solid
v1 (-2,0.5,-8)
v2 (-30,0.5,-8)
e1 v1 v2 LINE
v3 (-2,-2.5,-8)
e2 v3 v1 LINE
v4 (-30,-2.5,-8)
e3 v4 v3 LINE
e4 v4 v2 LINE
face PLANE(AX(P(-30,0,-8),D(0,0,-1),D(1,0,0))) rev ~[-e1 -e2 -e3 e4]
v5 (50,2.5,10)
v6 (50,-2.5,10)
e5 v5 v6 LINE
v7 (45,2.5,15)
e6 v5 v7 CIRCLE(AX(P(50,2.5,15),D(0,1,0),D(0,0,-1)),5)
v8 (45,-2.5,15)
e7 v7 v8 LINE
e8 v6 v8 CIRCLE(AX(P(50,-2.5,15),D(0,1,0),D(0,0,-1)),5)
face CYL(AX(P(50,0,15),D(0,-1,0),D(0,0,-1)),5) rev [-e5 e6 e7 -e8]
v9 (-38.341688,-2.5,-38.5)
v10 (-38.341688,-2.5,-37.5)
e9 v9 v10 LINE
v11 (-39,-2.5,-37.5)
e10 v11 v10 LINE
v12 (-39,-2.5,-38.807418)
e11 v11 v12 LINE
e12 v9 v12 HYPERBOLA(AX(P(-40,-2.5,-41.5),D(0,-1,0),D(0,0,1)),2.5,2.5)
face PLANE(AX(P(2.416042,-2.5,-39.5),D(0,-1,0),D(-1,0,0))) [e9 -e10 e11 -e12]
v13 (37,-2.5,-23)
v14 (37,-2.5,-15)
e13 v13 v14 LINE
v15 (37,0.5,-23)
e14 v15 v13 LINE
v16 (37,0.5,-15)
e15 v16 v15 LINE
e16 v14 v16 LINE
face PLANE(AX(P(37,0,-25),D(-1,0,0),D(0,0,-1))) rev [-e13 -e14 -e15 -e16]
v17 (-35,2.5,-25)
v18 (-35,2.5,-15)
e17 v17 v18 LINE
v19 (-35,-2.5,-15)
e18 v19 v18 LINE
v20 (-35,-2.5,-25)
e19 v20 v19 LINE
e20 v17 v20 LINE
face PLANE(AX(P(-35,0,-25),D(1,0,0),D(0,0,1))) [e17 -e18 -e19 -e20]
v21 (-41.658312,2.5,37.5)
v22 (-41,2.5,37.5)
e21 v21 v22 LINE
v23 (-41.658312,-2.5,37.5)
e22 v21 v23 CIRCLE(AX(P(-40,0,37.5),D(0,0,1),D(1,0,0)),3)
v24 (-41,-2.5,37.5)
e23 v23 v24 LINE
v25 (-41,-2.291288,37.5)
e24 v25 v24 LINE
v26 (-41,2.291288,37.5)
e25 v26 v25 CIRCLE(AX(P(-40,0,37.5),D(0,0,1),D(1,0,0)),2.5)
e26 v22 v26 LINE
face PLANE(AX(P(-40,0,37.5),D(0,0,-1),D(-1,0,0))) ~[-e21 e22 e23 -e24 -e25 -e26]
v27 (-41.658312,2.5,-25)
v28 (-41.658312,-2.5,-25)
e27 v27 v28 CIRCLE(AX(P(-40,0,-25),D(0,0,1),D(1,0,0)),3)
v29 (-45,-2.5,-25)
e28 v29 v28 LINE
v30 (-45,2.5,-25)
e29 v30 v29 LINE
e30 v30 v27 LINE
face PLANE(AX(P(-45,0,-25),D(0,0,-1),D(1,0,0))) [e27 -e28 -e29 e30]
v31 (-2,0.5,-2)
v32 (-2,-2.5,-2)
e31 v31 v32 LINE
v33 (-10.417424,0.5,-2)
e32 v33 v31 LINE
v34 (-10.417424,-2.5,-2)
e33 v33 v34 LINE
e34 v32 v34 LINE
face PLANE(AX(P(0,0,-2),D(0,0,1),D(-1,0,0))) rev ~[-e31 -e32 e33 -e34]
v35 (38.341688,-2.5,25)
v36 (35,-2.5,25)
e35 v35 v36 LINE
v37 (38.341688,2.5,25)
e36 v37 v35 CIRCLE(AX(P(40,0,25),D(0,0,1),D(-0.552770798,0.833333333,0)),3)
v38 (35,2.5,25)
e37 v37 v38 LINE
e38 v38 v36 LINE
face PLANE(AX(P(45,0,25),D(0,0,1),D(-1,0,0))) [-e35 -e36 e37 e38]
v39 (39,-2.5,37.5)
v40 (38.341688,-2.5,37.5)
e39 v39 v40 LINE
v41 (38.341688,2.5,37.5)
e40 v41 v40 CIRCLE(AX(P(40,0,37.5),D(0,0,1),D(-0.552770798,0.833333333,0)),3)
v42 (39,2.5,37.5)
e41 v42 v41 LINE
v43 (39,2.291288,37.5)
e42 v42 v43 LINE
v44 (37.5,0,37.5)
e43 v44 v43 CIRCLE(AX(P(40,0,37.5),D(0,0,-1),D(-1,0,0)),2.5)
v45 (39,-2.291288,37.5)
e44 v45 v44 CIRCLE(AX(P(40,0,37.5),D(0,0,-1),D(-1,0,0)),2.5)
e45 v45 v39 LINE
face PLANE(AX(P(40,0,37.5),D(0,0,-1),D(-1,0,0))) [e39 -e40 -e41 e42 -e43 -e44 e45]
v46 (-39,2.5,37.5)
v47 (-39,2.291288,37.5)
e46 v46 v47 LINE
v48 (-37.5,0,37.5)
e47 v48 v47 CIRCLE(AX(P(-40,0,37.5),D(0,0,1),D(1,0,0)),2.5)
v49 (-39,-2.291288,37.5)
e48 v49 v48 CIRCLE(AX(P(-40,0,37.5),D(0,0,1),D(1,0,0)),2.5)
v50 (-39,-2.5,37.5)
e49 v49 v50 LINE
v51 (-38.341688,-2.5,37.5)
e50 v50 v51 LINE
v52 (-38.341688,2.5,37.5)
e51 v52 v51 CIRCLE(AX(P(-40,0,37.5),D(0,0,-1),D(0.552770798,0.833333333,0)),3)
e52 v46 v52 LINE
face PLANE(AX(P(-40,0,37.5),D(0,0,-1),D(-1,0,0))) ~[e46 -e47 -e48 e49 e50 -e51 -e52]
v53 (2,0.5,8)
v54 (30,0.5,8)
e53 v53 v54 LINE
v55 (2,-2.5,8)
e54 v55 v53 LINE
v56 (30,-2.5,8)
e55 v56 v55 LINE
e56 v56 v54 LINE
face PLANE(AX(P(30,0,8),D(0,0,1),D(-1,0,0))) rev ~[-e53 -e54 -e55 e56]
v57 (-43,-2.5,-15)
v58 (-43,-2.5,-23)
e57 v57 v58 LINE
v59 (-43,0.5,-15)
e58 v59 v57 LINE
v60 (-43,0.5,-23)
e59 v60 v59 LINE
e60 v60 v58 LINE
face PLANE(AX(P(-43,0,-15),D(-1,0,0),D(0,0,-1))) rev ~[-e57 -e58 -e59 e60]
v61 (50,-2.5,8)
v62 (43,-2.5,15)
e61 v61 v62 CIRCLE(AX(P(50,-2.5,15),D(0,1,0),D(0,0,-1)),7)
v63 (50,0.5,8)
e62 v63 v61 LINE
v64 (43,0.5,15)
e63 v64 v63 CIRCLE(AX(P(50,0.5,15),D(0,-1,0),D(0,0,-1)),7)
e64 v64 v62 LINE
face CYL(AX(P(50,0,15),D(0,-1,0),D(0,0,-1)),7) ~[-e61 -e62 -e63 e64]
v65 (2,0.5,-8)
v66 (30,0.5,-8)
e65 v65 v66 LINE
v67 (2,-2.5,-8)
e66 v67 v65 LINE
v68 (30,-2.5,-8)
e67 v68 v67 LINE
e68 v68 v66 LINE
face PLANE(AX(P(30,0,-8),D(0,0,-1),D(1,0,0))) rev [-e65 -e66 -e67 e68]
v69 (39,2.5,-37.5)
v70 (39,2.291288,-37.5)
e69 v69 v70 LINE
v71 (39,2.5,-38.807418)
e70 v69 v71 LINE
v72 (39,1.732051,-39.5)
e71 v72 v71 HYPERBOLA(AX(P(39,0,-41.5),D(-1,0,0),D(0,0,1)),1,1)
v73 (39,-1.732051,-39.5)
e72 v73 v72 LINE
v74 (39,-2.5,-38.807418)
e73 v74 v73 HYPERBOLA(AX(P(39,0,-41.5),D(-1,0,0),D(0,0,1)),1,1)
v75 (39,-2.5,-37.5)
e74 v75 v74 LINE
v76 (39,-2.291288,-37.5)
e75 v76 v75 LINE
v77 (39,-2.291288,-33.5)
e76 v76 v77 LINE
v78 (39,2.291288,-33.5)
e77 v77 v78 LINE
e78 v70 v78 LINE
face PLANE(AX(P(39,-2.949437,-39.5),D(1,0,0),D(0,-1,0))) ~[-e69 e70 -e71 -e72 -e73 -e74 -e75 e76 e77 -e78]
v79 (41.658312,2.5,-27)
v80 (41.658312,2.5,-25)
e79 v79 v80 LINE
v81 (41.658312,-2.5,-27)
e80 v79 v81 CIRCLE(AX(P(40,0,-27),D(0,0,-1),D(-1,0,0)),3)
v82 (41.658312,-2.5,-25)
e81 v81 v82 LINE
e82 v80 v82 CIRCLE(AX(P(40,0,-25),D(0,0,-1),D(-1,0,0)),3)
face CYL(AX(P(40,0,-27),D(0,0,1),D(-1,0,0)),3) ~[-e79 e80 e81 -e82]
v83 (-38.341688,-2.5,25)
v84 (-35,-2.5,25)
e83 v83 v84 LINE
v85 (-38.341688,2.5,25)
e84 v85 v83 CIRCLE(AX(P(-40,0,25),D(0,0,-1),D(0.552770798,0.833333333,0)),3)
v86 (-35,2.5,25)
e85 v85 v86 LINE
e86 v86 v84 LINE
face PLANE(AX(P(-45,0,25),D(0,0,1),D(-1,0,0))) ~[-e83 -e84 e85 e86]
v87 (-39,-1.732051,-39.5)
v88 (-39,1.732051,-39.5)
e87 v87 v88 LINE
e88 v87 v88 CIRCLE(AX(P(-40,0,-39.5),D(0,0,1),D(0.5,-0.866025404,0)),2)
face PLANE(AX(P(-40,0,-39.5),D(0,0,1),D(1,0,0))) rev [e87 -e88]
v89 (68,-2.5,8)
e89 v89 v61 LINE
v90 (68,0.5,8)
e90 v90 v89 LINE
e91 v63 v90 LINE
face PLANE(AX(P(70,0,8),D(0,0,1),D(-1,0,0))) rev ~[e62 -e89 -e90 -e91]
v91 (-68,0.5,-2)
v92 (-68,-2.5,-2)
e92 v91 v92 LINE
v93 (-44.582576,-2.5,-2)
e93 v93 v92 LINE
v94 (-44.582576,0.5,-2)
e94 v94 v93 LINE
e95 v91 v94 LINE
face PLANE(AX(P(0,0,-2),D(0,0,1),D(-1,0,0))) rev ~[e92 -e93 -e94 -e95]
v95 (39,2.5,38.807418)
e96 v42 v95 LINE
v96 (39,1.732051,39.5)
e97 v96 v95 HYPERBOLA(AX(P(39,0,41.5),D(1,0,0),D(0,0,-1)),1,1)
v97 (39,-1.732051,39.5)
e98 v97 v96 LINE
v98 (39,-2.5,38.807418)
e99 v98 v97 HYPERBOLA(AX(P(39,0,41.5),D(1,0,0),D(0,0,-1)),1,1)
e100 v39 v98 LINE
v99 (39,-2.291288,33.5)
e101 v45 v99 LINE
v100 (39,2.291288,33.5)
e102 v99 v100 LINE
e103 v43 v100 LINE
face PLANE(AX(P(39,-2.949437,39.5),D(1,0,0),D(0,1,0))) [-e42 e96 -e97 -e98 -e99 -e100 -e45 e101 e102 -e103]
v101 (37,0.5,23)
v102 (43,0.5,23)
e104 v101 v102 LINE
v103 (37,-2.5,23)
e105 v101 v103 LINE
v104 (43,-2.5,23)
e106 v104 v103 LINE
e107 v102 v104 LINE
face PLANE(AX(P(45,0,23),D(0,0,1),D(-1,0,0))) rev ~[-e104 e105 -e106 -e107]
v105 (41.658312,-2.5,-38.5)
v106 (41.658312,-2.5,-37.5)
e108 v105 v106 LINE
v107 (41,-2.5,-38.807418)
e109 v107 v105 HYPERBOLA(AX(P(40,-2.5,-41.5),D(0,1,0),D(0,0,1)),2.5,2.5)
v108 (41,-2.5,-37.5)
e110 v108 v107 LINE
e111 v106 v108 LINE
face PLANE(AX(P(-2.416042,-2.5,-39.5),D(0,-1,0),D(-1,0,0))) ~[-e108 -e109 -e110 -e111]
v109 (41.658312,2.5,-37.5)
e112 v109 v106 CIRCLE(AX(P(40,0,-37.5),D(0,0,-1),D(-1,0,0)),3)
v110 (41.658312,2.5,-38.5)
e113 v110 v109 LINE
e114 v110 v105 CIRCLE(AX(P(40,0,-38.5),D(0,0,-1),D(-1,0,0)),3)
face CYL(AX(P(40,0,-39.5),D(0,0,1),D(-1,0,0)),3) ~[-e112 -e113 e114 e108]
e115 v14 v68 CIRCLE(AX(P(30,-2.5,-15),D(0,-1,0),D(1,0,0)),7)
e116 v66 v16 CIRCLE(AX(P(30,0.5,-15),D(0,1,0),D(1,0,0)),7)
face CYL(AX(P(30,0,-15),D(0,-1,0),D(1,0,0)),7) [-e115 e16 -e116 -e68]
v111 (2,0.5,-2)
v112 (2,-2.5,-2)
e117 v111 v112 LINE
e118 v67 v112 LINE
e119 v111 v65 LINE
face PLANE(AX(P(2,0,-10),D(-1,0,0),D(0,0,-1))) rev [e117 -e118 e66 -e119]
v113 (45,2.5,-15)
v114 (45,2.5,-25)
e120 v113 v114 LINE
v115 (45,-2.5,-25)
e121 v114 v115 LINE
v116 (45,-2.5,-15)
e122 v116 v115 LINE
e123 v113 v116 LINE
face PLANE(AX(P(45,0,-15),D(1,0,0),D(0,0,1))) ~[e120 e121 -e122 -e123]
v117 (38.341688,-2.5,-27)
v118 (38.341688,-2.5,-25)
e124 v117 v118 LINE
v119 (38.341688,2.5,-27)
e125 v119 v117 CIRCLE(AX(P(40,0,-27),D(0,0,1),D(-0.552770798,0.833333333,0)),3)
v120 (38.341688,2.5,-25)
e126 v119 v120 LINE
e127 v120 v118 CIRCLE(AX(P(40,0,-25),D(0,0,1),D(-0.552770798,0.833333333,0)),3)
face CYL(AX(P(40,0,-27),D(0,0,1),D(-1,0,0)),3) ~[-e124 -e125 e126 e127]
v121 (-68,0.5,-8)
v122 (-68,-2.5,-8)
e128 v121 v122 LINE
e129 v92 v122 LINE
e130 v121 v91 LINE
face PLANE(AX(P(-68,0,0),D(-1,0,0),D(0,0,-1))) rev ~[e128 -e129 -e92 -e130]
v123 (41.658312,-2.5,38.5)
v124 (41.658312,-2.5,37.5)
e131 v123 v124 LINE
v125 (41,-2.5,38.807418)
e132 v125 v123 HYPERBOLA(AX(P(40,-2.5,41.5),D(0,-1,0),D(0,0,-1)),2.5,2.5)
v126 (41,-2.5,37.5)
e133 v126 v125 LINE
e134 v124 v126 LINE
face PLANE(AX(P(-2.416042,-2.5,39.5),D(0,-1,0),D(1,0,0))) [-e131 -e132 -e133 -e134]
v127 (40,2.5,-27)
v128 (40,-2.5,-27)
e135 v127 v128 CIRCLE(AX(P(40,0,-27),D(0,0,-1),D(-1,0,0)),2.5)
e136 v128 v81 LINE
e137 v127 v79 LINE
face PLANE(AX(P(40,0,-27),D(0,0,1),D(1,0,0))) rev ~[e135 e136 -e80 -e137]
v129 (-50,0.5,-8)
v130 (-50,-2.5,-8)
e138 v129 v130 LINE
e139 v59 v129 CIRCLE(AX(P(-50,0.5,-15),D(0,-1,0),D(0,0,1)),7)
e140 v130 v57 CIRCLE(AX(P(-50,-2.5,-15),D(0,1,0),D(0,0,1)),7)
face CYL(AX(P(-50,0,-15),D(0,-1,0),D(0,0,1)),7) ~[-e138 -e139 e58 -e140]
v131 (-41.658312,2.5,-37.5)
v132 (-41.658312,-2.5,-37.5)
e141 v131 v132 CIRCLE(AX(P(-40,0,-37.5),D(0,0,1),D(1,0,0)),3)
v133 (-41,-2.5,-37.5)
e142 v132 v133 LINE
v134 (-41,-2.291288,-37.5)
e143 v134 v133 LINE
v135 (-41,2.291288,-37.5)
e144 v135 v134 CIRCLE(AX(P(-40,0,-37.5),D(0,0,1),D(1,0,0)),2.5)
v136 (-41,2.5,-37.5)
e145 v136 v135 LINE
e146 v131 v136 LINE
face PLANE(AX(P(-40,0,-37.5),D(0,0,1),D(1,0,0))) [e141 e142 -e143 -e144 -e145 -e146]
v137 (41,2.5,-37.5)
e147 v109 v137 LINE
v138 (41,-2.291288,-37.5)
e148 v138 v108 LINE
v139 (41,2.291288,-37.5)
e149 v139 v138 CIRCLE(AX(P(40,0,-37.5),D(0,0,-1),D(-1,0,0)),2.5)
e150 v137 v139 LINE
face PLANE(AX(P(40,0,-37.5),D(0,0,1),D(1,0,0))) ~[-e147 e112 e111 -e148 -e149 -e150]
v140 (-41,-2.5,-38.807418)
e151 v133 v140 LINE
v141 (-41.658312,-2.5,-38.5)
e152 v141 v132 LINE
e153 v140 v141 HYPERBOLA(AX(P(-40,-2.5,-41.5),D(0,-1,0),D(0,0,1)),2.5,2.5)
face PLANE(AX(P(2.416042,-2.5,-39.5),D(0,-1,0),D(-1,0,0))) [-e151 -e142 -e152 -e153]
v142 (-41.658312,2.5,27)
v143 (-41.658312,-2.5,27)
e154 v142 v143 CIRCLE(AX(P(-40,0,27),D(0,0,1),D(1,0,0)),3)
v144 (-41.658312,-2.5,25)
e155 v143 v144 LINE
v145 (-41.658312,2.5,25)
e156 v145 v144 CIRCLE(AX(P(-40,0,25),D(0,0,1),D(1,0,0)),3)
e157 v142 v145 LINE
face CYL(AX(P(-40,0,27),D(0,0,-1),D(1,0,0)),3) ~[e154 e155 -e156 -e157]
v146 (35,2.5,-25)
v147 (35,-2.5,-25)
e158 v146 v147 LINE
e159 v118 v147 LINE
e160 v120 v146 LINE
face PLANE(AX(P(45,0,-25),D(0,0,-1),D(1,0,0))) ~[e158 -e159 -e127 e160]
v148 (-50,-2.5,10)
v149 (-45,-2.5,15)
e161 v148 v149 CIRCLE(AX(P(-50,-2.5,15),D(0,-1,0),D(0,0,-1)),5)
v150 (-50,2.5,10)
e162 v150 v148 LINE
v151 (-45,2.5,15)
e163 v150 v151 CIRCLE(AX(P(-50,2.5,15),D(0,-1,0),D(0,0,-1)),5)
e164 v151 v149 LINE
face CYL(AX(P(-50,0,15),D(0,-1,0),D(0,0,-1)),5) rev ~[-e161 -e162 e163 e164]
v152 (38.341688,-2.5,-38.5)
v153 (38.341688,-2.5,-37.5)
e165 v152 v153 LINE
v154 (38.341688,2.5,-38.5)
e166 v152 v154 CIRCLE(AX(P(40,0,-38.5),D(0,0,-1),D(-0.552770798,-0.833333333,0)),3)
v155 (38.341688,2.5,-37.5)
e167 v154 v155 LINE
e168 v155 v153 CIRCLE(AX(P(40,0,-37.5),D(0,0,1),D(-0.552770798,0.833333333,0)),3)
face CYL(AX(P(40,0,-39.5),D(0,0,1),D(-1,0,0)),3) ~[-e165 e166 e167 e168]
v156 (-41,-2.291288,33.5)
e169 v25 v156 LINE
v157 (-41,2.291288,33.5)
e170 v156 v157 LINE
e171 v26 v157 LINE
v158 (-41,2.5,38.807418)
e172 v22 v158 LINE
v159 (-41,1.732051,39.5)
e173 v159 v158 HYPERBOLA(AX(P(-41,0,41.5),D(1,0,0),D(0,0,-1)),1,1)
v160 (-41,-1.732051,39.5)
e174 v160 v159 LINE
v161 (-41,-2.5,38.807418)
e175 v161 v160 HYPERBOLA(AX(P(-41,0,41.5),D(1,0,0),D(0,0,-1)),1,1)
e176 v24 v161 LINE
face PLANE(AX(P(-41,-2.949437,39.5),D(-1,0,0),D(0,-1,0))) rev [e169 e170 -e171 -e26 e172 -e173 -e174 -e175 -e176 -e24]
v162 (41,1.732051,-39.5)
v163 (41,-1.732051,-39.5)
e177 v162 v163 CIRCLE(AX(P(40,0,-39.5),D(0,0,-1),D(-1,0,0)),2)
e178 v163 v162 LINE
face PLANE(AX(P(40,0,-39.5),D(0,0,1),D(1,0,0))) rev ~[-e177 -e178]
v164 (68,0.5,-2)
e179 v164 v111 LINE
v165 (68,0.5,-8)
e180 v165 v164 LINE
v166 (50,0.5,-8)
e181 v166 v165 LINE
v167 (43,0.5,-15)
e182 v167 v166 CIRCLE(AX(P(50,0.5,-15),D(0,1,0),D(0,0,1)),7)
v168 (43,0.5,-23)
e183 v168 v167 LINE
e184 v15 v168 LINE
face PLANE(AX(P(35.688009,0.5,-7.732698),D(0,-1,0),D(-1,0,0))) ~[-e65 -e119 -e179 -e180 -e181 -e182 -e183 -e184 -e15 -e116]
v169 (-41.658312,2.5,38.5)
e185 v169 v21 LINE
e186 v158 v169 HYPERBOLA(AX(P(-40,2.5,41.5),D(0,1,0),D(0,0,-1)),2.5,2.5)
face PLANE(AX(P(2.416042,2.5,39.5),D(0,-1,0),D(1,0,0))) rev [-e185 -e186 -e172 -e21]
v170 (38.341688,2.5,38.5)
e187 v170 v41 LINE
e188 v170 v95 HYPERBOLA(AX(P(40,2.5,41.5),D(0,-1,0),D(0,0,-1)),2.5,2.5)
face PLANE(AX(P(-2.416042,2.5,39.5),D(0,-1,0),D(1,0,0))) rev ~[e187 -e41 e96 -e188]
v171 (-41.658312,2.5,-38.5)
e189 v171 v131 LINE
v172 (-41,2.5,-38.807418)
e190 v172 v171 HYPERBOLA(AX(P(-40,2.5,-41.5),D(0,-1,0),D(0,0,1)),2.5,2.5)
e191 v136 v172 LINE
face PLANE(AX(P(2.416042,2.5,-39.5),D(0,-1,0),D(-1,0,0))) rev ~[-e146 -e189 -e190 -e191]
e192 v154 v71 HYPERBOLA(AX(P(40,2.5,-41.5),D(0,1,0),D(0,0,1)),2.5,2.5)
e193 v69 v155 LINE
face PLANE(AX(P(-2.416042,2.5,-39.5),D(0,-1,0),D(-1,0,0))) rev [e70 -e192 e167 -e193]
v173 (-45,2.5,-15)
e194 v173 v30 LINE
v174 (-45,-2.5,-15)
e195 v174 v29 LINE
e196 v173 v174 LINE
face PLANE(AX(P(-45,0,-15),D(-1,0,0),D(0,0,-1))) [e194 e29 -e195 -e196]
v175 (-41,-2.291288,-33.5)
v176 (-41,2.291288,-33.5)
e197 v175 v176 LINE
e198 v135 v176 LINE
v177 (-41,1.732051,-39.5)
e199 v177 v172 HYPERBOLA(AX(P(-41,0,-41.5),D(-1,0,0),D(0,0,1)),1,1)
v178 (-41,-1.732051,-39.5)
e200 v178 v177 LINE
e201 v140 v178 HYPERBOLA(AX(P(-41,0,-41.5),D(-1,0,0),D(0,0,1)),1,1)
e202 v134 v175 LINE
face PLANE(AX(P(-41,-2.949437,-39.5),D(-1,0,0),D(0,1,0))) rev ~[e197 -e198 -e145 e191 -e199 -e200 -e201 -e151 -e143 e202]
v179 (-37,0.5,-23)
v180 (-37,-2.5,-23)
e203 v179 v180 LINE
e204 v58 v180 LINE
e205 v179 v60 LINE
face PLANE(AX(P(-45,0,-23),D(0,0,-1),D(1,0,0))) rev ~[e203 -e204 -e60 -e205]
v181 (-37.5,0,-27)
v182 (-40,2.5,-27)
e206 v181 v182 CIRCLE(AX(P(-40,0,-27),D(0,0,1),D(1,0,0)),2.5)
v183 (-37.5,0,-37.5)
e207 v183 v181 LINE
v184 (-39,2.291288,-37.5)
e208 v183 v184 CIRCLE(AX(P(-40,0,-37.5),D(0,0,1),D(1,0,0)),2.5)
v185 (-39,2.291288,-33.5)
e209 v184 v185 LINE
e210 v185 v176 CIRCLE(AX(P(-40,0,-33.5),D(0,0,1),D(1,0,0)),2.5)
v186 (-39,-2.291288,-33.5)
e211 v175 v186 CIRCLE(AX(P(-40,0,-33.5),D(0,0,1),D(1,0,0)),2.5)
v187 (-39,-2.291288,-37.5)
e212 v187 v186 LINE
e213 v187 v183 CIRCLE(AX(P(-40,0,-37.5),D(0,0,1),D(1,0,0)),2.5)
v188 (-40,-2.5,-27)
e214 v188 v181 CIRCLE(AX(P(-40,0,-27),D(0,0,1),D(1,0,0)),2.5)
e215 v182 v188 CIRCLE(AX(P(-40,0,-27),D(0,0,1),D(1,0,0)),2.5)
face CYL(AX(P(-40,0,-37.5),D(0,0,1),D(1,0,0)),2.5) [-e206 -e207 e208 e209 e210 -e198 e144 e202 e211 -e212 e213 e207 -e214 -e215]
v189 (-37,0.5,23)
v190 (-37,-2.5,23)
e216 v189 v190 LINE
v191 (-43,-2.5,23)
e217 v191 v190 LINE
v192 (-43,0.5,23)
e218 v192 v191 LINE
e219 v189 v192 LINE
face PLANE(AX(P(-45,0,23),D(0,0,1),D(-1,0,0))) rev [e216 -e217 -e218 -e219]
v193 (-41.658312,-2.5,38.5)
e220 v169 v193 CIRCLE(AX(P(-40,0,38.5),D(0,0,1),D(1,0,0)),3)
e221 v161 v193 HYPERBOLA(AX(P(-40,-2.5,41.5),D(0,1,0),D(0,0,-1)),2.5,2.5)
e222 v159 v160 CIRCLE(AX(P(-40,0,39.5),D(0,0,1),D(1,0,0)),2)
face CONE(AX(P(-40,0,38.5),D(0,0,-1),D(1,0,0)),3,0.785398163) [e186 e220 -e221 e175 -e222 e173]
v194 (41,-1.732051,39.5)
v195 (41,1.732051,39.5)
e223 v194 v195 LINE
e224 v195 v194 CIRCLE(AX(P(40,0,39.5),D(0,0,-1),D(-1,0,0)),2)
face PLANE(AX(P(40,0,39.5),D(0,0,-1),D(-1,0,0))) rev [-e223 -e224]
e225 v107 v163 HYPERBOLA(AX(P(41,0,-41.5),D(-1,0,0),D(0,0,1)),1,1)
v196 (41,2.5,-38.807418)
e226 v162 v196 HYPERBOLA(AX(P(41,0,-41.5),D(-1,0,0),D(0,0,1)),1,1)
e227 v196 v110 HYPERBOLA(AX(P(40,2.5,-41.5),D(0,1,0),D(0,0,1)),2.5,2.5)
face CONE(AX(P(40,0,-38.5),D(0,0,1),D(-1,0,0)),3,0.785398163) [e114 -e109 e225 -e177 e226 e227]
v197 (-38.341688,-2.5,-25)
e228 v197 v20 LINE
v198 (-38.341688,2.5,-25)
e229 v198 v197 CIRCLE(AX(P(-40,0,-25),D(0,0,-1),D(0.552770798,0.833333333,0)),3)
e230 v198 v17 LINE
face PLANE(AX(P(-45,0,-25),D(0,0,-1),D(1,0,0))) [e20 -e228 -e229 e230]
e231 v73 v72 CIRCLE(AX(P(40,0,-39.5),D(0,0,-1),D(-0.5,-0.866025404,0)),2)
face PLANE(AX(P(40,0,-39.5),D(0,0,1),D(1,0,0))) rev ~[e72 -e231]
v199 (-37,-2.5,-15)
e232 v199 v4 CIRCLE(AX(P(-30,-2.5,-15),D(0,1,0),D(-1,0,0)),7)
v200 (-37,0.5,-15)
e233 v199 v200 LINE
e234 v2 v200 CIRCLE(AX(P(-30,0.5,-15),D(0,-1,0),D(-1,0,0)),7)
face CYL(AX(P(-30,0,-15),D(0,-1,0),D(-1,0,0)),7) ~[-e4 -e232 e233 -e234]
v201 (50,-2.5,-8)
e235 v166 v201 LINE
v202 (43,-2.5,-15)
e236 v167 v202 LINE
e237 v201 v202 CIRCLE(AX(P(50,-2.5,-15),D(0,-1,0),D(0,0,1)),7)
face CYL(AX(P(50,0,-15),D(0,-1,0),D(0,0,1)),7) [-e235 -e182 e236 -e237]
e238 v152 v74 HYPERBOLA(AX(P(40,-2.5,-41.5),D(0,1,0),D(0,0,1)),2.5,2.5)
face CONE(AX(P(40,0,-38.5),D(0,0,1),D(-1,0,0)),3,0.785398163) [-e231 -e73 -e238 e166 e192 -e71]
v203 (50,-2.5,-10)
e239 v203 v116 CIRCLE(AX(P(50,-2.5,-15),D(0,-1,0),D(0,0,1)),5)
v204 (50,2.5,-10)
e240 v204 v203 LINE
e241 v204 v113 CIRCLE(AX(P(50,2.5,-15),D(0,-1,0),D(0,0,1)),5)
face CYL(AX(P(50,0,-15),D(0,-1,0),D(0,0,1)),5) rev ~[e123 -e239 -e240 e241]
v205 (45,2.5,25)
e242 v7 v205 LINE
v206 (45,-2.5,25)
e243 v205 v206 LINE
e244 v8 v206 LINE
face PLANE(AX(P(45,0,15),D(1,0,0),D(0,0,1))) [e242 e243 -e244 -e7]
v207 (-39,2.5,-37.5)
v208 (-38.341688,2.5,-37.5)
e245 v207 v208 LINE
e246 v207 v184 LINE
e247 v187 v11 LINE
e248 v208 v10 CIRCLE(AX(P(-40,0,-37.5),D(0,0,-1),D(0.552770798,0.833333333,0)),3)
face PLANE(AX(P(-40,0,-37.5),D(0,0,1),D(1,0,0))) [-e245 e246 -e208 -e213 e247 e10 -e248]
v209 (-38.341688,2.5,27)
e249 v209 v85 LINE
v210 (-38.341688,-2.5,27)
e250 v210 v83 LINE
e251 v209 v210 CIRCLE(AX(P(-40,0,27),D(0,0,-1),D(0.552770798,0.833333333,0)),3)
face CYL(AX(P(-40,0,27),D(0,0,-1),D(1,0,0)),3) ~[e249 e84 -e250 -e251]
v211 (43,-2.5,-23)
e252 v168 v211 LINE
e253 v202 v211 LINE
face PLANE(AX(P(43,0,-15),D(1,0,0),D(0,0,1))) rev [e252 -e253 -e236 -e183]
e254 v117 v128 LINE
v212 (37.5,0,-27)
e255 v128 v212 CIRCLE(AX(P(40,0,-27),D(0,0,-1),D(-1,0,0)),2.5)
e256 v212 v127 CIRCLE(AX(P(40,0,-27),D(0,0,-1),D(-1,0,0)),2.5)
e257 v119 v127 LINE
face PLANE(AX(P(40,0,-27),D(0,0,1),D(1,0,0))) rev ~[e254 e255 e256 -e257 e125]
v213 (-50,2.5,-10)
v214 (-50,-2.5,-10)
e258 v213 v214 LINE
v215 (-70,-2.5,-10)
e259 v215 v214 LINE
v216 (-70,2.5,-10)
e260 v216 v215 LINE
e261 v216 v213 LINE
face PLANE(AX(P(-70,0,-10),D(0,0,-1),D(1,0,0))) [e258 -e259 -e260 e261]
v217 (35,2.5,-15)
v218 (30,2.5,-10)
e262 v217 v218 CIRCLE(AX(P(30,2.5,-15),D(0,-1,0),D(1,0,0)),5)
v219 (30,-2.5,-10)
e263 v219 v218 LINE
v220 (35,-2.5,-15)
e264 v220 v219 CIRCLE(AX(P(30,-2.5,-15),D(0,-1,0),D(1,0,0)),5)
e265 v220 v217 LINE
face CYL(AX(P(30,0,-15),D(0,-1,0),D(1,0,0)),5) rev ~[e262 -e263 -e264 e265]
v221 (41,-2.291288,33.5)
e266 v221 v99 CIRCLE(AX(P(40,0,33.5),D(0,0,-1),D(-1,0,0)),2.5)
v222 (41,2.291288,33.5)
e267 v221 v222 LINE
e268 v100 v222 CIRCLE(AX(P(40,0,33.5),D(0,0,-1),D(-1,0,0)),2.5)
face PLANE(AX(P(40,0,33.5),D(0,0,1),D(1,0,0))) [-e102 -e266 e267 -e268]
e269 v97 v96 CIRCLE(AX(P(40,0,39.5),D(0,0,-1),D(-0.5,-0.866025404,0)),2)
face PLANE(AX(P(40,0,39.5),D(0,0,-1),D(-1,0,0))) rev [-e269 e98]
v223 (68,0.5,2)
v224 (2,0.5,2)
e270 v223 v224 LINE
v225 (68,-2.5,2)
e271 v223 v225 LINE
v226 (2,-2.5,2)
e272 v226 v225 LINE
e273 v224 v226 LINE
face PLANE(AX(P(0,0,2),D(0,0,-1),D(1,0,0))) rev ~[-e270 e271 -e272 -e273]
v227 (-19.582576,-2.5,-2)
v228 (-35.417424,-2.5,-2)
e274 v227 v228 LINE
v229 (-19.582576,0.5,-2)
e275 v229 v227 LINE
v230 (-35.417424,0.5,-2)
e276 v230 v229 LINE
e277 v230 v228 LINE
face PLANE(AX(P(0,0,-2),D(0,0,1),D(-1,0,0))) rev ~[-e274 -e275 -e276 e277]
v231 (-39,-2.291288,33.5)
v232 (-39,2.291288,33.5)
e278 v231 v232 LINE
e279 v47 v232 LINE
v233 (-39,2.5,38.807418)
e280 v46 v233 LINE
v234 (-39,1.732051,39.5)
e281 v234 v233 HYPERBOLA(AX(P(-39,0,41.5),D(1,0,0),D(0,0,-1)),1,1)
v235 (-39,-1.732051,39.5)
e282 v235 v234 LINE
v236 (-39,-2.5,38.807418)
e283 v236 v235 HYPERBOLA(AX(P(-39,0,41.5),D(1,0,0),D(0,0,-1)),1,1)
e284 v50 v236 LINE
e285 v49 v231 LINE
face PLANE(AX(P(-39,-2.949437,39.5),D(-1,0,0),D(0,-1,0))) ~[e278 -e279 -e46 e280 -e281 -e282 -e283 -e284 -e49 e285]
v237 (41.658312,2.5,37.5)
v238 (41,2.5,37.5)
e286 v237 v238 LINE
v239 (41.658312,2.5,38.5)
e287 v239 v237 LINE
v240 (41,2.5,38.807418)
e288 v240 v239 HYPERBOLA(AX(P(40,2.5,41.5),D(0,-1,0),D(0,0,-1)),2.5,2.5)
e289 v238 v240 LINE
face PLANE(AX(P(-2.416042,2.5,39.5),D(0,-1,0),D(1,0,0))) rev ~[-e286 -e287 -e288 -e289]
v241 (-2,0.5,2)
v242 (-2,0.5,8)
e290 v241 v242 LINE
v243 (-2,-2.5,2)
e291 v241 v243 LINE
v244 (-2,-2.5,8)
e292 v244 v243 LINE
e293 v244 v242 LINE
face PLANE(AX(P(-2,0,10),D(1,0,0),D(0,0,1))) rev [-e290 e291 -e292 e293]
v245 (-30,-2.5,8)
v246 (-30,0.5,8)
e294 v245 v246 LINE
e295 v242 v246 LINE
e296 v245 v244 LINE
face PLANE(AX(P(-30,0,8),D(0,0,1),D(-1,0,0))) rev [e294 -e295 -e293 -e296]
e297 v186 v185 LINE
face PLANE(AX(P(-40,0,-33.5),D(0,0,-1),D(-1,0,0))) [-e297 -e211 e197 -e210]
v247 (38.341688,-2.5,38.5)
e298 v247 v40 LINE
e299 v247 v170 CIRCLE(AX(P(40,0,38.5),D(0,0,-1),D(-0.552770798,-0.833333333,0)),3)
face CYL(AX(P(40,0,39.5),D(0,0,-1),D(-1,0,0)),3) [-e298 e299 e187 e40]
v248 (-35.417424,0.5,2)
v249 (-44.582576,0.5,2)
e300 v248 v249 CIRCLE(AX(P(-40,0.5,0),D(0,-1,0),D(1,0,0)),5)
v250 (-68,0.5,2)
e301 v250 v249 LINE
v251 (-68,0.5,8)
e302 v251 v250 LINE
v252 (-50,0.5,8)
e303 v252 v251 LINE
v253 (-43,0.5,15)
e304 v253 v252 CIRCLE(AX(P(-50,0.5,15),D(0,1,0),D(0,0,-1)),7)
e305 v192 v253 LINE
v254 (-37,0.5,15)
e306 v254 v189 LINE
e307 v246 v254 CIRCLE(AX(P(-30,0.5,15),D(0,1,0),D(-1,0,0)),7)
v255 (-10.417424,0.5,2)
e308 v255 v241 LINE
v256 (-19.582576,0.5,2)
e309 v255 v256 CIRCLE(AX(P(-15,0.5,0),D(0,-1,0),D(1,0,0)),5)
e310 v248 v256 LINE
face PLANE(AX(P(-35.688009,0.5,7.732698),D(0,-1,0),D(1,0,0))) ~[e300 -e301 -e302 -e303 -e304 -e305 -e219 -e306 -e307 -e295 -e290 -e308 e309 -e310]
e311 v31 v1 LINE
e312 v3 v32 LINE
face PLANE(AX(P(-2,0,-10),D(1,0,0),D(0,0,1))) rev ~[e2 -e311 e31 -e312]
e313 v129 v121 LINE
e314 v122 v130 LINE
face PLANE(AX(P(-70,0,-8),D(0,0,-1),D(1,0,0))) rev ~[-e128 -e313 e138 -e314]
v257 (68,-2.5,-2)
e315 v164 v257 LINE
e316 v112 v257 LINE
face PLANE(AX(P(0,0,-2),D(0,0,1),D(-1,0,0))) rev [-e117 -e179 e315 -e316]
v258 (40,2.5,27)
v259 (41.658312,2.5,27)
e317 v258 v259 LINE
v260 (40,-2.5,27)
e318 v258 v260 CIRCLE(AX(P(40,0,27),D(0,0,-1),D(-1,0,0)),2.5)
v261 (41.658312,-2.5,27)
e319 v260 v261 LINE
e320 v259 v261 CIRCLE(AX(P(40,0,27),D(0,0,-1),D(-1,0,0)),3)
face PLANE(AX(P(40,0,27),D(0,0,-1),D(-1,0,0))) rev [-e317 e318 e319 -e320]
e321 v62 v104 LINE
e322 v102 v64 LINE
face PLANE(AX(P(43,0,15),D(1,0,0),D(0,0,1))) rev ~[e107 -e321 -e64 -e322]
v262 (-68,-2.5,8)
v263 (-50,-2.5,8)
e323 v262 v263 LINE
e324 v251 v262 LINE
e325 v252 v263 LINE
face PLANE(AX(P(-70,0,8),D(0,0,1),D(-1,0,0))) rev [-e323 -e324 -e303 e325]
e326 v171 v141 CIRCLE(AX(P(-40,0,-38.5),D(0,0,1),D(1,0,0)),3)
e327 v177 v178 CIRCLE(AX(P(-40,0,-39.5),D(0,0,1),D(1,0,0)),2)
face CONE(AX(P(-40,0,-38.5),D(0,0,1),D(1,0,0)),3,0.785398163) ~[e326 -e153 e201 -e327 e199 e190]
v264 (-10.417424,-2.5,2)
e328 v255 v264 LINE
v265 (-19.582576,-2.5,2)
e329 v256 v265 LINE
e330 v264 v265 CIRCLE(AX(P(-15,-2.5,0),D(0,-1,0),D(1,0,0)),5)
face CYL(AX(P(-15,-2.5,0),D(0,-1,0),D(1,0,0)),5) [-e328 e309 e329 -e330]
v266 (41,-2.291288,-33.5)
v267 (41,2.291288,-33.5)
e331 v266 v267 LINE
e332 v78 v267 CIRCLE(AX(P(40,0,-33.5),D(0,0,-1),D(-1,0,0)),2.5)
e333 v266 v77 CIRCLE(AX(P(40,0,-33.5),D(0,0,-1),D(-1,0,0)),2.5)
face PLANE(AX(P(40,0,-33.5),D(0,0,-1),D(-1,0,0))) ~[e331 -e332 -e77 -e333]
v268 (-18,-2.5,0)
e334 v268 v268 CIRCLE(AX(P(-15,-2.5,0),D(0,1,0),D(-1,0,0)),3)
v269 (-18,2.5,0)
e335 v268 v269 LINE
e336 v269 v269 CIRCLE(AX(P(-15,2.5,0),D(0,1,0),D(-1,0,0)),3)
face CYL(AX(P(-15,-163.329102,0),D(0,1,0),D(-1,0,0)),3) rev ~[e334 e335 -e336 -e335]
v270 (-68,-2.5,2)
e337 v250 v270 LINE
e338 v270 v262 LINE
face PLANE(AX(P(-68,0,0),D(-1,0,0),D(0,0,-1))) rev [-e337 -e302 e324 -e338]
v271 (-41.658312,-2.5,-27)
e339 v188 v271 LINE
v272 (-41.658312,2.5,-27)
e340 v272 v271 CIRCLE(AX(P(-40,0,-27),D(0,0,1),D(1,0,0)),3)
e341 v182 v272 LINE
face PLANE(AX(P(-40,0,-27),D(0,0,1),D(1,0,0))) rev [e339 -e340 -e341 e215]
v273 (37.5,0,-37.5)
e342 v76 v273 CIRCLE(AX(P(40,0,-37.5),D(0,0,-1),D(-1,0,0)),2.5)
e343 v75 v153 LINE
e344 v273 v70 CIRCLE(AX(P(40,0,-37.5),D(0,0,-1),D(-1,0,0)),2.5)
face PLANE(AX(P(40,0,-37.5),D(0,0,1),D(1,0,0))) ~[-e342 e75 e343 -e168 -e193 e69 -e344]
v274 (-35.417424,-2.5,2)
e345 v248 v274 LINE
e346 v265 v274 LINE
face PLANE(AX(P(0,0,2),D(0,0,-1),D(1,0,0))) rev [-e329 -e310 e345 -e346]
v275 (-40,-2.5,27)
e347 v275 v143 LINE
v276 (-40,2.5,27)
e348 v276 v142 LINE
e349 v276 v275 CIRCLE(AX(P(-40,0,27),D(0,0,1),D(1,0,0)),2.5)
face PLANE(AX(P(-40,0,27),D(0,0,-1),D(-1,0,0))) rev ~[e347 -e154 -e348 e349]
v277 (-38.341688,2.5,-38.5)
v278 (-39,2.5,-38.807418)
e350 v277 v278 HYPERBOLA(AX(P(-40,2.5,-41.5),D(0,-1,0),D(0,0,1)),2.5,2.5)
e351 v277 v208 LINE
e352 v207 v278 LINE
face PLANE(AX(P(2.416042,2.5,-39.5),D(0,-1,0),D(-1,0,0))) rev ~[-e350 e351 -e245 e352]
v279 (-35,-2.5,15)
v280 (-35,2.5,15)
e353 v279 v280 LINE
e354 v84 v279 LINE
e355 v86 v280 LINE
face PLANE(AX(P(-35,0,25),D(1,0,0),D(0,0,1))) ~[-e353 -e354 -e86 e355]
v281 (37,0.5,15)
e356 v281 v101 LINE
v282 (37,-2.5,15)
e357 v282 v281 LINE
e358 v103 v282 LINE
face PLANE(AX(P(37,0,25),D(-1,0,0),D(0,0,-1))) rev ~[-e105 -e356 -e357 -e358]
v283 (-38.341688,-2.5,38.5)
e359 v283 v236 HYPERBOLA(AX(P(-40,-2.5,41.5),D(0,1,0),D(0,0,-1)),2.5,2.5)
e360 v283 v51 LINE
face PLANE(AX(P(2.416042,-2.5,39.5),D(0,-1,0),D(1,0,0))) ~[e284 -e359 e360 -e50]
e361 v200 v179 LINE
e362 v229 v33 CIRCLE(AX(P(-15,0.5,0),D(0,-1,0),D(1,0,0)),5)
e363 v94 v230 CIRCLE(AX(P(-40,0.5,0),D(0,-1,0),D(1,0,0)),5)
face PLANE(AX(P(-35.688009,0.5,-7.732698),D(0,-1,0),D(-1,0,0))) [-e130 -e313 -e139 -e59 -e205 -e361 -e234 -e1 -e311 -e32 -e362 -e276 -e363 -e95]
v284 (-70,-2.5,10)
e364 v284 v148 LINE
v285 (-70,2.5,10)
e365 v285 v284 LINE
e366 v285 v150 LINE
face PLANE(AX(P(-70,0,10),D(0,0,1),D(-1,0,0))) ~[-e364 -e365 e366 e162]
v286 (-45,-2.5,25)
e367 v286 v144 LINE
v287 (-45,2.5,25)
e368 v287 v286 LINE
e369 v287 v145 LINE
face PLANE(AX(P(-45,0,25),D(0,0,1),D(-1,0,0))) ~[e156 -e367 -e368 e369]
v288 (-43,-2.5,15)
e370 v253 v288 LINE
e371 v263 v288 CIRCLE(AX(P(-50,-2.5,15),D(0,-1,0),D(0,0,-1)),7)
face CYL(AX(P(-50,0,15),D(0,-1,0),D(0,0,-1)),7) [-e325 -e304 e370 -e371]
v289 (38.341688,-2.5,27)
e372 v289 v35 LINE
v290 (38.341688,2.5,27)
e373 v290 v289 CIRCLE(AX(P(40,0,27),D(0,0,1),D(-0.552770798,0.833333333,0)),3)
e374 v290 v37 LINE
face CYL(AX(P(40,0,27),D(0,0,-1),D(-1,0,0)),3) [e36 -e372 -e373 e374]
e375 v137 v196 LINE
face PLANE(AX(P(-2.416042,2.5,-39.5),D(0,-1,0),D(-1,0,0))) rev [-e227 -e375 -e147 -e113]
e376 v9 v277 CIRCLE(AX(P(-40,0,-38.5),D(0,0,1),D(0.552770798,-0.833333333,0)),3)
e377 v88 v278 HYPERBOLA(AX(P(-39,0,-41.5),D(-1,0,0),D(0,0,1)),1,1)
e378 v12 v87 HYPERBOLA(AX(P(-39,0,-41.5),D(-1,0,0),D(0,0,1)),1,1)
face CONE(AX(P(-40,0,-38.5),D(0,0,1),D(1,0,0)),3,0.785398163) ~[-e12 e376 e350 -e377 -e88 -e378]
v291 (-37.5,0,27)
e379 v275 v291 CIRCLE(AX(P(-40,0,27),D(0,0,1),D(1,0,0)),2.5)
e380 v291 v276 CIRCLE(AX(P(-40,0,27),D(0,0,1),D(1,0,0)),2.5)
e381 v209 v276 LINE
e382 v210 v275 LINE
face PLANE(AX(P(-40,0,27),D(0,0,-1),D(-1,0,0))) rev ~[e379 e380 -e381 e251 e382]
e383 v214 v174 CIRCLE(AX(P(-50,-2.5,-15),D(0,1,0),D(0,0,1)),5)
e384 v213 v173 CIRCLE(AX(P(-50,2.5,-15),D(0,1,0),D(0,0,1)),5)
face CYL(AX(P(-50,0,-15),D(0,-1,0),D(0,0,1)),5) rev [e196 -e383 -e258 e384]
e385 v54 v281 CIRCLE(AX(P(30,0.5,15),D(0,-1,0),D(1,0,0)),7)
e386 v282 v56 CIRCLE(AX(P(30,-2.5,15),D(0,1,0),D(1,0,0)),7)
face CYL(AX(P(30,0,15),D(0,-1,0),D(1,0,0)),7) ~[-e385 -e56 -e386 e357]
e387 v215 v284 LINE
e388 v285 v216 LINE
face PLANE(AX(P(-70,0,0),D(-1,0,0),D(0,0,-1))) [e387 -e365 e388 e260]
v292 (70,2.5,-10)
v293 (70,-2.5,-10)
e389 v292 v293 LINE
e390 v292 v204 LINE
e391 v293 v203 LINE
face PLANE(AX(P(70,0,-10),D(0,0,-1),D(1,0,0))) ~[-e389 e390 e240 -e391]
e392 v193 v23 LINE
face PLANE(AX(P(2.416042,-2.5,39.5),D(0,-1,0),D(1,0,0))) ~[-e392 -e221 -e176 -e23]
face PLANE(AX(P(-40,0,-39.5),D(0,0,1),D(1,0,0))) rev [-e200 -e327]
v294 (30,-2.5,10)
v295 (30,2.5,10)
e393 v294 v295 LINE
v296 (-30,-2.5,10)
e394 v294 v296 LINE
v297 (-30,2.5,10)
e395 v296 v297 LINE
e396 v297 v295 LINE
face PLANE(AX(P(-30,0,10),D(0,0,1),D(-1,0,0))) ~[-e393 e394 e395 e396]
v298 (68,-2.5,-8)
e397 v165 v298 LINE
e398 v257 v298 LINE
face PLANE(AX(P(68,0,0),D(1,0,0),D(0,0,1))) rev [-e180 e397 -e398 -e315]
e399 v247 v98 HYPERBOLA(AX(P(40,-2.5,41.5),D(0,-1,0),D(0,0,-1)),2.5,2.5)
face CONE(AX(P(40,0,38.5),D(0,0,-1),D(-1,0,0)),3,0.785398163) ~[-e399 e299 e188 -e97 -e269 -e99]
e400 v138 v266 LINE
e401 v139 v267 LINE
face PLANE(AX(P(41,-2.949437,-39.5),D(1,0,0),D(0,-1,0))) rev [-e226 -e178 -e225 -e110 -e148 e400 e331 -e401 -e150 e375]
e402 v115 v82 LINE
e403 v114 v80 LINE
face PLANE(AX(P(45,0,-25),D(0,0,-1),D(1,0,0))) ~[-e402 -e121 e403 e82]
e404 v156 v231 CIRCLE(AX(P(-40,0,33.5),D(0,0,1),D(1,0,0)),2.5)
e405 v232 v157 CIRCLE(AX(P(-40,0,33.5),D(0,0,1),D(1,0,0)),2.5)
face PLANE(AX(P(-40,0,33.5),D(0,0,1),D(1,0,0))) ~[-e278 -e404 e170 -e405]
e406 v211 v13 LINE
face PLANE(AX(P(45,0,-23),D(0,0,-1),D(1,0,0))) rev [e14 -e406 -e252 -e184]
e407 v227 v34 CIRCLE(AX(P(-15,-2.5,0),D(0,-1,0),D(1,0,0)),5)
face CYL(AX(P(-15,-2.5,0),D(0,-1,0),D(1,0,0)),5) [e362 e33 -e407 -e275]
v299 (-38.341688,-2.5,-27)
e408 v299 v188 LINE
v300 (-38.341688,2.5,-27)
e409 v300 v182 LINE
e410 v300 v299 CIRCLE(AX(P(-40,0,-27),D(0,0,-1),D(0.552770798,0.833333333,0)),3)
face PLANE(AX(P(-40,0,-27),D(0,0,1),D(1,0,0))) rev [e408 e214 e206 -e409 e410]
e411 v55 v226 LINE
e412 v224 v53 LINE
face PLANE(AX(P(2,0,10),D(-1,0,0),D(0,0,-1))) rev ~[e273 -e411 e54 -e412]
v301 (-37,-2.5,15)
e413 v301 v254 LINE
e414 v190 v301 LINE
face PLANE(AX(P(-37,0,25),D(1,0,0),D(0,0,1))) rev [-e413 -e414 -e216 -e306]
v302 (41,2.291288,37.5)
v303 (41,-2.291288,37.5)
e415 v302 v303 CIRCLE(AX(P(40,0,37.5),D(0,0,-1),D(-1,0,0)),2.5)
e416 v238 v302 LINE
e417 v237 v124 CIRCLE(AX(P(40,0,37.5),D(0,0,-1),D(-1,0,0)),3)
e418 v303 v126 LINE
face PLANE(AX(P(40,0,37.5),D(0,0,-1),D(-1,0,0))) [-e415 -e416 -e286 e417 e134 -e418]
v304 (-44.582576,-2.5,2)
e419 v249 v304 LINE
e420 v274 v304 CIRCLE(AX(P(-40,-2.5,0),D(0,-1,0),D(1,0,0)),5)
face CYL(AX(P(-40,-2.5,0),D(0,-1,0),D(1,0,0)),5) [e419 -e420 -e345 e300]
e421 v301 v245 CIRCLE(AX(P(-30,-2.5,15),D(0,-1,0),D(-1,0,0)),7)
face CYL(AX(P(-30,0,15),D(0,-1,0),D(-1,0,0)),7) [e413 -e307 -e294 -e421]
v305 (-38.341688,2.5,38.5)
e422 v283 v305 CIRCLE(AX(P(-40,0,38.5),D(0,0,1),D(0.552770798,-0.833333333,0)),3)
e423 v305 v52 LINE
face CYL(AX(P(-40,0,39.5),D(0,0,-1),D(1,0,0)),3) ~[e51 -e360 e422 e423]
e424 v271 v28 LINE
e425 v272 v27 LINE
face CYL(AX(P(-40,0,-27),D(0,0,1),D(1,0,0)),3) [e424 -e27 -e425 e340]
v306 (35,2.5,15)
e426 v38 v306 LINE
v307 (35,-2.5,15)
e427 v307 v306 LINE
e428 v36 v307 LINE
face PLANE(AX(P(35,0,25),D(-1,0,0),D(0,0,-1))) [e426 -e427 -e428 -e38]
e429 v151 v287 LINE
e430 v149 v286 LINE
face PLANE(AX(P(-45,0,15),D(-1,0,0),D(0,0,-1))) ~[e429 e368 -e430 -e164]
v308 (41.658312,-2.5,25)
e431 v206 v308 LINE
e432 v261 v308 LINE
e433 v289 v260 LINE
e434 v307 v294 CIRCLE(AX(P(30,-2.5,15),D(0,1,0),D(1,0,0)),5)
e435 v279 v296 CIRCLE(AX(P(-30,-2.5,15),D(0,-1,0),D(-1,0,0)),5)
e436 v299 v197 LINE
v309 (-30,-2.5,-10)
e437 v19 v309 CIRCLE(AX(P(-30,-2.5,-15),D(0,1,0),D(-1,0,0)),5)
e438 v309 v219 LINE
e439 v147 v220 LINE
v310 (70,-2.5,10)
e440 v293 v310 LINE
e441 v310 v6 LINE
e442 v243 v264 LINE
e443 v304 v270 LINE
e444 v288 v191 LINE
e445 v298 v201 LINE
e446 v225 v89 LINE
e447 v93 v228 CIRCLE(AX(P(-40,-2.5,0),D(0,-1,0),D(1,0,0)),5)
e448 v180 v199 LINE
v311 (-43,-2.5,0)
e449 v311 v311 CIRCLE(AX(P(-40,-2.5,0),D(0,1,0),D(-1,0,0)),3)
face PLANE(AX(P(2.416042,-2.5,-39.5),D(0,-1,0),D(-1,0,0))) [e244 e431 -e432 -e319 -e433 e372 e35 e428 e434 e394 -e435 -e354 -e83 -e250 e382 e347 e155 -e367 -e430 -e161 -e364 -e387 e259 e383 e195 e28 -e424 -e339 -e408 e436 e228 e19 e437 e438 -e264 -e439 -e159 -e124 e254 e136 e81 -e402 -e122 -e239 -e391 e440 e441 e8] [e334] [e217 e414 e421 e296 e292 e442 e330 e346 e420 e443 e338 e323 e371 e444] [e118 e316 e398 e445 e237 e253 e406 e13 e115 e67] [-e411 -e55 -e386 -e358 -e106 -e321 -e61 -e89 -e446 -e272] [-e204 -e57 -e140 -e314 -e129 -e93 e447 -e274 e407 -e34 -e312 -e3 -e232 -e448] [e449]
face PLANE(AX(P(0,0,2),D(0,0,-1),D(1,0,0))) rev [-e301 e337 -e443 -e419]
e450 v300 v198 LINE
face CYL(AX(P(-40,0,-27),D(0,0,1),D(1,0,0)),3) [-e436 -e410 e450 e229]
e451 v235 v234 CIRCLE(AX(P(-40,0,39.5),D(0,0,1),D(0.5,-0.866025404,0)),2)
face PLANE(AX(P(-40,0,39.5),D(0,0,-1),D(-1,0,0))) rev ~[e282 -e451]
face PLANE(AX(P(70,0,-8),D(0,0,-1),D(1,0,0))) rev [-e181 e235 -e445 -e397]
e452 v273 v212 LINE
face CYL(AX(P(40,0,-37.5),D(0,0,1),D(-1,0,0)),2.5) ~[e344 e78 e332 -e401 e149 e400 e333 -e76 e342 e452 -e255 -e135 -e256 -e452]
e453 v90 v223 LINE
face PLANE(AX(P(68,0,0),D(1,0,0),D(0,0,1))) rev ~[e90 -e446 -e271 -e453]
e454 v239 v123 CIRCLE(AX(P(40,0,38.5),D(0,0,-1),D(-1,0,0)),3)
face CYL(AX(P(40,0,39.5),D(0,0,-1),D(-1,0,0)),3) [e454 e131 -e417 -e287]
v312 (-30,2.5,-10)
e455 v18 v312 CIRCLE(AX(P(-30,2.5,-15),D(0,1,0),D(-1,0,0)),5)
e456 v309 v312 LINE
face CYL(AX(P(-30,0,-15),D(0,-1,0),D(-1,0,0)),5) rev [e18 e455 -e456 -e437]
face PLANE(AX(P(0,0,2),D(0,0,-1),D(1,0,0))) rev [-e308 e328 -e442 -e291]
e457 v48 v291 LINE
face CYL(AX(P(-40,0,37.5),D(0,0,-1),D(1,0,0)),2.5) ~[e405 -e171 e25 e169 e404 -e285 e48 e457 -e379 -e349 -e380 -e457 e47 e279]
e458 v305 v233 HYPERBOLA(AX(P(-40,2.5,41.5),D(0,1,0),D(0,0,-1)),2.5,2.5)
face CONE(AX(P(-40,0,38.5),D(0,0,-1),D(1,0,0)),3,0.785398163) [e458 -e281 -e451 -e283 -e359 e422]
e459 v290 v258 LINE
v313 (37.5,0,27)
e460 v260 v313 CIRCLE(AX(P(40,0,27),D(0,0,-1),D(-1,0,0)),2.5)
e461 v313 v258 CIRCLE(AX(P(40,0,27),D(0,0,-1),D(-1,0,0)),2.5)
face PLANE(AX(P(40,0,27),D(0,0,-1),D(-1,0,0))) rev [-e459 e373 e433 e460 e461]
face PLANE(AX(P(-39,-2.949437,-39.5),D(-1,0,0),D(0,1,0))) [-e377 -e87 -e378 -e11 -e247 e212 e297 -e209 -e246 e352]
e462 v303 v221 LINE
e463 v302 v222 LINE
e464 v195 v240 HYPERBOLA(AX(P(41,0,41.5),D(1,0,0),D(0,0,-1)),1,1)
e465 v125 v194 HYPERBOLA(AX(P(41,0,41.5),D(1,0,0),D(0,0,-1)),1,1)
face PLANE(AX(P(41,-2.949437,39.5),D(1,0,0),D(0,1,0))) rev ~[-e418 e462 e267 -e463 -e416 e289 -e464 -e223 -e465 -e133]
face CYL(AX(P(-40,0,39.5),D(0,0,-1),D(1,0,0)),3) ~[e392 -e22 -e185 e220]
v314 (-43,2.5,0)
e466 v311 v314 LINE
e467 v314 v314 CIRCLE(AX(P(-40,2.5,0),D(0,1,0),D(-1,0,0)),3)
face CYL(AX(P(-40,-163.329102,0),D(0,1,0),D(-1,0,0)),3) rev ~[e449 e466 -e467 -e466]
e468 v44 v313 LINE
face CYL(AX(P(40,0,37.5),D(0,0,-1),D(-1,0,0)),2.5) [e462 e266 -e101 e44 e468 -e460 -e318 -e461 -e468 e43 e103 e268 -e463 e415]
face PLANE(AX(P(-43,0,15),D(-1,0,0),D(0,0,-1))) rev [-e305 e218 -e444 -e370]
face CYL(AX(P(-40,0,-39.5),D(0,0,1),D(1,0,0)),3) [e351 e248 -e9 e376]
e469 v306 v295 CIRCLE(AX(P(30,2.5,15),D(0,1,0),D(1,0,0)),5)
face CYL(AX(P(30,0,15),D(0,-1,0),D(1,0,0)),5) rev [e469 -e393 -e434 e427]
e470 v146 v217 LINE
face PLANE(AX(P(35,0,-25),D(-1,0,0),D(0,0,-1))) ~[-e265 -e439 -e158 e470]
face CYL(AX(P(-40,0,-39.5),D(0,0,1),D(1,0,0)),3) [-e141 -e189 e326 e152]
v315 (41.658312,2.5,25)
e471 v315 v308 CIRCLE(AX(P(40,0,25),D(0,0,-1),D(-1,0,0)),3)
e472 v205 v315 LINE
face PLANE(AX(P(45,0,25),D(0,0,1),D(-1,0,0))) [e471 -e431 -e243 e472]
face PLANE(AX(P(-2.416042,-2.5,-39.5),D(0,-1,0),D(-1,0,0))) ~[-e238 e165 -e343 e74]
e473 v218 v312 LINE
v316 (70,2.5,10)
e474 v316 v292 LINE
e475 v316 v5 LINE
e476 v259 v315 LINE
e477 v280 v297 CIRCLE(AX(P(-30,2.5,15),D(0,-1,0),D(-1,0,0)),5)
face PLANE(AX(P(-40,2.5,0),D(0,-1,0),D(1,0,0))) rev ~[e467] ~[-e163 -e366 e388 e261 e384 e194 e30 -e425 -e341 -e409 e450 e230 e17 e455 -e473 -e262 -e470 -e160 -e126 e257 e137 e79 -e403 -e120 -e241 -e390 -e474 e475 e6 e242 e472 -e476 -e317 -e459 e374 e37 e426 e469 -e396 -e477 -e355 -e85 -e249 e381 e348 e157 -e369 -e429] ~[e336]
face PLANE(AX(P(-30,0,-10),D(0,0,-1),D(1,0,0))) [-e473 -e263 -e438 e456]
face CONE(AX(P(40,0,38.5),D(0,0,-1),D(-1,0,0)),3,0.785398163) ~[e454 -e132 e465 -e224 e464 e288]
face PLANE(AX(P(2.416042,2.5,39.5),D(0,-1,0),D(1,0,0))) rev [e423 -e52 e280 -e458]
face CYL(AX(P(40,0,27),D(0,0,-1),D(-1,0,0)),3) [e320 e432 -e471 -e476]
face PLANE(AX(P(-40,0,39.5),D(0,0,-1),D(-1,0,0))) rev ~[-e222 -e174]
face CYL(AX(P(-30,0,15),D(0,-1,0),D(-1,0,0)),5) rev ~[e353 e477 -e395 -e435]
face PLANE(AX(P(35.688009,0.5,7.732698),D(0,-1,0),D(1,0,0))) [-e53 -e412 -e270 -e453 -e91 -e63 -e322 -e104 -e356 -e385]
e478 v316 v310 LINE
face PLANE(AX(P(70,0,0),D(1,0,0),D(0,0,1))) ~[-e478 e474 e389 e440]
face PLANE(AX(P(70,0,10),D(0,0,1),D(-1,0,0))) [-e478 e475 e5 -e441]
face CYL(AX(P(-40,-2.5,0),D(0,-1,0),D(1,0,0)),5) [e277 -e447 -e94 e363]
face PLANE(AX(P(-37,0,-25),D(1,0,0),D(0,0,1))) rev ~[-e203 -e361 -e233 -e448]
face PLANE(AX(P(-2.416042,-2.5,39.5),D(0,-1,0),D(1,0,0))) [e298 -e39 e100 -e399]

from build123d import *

# Parameters (mm, degrees)
F1_DEPTH  = 2.5
F2_T      = -2
F5_SIZE   = 1
F6_W      = 75
F6_H      = 5
F7_DEPTH  = 39.501
F8_W      = 2
F8_H      = 5.8988734534
F9_DEPTH  = 6
F12_R     = 5
F13_DEPTH = 5
F15_D     = 6


with BuildPart() as f1:
    # F0 (on Front) → F1 (new body, symmetric)
    with BuildSketch(Plane.XZ):
        with BuildLine():
            Line((0, 10), (0, 0))
            Line((0, 0), (70, 0))
            Line((70, 0), (70, 10))
            Line((70, 10), (50, 10))
            ThreePointArc((50, 10), (46.4644660941, 11.4644660941), (45, 15))
            Line((45, 15), (45, 25))
            Line((45, 25), (35, 25))
            Line((35, 25), (35, 15))
            ThreePointArc((35, 15), (33.5355339059, 11.4644660941), (30, 10))
            Line((30, 10), (8.4090904464, 10))
            Line((8.4090904464, 10), (0, 10))
        make_face()
    extrude(amount=F1_DEPTH, both=True)

    # F2
    f2_openings = [f1.faces().sort_by_distance(p)[0] for p in [
        (35.933685, -2.5, 7.254637),
    ]]
    offset(amount=F2_T, openings=f2_openings)

    # F3 (on Front) → F4 (revolve)
    with BuildSketch(Plane.XZ):
        Polygon((37, 25), (40, 25), (40, 39.5), (37, 39.5), (37, 37.5), (37.5, 37.5), (37.5, 27), (37, 27), align=None)
    revolve(axis=Axis((40, 0, 32.25), (0, 0, -1)))

    # F5
    f5_edges = [f1.edges().sort_by_distance(p)[0] for p in [
        (43, 0, 39.5),
    ]]
    chamfer(f5_edges, length=F5_SIZE)

    # F6 (on face) → F7 (intersect, through all)
    with BuildSketch(Plane.XY.offset(39.5)):
        with Locations((35.0839576957, 0)):
            Rectangle(F6_W, F6_H)
    extrude(amount=-F7_DEPTH, mode=Mode.INTERSECT)

    # F8 (on face) → F9 (cut)
    with BuildSketch(Plane.XY.offset(39.5)):
        with Locations((40, 0)):
            Rectangle(F8_W, F8_H)
    extrude(amount=-F9_DEPTH, mode=Mode.SUBTRACT)

    # F10: F1 across plane


with BuildPart() as f1_1:
    add(f1.part)
    add(f1.part.mirror(Plane.XY))

    # F11: F1 across plane


with BuildPart() as f1_2:
    add(f1_1.part)
    add(f1_1.part.mirror(Plane.YZ))

    # F12 (on face) → F13 (join, through all)
    with BuildSketch(Plane.XZ.offset(2.5)):
        with Locations((-40, 0)):
            Circle(F12_R)
        with Locations((-15, 0)):
            Circle(F12_R)
    extrude(amount=-F13_DEPTH)

    # F15 (through all)
    with Locations(Plane.XZ.offset(2.5)):
        with Locations((-40, 0), (-15, 0)):
            Hole(F15_D / 2)


solid = f1_2.part
